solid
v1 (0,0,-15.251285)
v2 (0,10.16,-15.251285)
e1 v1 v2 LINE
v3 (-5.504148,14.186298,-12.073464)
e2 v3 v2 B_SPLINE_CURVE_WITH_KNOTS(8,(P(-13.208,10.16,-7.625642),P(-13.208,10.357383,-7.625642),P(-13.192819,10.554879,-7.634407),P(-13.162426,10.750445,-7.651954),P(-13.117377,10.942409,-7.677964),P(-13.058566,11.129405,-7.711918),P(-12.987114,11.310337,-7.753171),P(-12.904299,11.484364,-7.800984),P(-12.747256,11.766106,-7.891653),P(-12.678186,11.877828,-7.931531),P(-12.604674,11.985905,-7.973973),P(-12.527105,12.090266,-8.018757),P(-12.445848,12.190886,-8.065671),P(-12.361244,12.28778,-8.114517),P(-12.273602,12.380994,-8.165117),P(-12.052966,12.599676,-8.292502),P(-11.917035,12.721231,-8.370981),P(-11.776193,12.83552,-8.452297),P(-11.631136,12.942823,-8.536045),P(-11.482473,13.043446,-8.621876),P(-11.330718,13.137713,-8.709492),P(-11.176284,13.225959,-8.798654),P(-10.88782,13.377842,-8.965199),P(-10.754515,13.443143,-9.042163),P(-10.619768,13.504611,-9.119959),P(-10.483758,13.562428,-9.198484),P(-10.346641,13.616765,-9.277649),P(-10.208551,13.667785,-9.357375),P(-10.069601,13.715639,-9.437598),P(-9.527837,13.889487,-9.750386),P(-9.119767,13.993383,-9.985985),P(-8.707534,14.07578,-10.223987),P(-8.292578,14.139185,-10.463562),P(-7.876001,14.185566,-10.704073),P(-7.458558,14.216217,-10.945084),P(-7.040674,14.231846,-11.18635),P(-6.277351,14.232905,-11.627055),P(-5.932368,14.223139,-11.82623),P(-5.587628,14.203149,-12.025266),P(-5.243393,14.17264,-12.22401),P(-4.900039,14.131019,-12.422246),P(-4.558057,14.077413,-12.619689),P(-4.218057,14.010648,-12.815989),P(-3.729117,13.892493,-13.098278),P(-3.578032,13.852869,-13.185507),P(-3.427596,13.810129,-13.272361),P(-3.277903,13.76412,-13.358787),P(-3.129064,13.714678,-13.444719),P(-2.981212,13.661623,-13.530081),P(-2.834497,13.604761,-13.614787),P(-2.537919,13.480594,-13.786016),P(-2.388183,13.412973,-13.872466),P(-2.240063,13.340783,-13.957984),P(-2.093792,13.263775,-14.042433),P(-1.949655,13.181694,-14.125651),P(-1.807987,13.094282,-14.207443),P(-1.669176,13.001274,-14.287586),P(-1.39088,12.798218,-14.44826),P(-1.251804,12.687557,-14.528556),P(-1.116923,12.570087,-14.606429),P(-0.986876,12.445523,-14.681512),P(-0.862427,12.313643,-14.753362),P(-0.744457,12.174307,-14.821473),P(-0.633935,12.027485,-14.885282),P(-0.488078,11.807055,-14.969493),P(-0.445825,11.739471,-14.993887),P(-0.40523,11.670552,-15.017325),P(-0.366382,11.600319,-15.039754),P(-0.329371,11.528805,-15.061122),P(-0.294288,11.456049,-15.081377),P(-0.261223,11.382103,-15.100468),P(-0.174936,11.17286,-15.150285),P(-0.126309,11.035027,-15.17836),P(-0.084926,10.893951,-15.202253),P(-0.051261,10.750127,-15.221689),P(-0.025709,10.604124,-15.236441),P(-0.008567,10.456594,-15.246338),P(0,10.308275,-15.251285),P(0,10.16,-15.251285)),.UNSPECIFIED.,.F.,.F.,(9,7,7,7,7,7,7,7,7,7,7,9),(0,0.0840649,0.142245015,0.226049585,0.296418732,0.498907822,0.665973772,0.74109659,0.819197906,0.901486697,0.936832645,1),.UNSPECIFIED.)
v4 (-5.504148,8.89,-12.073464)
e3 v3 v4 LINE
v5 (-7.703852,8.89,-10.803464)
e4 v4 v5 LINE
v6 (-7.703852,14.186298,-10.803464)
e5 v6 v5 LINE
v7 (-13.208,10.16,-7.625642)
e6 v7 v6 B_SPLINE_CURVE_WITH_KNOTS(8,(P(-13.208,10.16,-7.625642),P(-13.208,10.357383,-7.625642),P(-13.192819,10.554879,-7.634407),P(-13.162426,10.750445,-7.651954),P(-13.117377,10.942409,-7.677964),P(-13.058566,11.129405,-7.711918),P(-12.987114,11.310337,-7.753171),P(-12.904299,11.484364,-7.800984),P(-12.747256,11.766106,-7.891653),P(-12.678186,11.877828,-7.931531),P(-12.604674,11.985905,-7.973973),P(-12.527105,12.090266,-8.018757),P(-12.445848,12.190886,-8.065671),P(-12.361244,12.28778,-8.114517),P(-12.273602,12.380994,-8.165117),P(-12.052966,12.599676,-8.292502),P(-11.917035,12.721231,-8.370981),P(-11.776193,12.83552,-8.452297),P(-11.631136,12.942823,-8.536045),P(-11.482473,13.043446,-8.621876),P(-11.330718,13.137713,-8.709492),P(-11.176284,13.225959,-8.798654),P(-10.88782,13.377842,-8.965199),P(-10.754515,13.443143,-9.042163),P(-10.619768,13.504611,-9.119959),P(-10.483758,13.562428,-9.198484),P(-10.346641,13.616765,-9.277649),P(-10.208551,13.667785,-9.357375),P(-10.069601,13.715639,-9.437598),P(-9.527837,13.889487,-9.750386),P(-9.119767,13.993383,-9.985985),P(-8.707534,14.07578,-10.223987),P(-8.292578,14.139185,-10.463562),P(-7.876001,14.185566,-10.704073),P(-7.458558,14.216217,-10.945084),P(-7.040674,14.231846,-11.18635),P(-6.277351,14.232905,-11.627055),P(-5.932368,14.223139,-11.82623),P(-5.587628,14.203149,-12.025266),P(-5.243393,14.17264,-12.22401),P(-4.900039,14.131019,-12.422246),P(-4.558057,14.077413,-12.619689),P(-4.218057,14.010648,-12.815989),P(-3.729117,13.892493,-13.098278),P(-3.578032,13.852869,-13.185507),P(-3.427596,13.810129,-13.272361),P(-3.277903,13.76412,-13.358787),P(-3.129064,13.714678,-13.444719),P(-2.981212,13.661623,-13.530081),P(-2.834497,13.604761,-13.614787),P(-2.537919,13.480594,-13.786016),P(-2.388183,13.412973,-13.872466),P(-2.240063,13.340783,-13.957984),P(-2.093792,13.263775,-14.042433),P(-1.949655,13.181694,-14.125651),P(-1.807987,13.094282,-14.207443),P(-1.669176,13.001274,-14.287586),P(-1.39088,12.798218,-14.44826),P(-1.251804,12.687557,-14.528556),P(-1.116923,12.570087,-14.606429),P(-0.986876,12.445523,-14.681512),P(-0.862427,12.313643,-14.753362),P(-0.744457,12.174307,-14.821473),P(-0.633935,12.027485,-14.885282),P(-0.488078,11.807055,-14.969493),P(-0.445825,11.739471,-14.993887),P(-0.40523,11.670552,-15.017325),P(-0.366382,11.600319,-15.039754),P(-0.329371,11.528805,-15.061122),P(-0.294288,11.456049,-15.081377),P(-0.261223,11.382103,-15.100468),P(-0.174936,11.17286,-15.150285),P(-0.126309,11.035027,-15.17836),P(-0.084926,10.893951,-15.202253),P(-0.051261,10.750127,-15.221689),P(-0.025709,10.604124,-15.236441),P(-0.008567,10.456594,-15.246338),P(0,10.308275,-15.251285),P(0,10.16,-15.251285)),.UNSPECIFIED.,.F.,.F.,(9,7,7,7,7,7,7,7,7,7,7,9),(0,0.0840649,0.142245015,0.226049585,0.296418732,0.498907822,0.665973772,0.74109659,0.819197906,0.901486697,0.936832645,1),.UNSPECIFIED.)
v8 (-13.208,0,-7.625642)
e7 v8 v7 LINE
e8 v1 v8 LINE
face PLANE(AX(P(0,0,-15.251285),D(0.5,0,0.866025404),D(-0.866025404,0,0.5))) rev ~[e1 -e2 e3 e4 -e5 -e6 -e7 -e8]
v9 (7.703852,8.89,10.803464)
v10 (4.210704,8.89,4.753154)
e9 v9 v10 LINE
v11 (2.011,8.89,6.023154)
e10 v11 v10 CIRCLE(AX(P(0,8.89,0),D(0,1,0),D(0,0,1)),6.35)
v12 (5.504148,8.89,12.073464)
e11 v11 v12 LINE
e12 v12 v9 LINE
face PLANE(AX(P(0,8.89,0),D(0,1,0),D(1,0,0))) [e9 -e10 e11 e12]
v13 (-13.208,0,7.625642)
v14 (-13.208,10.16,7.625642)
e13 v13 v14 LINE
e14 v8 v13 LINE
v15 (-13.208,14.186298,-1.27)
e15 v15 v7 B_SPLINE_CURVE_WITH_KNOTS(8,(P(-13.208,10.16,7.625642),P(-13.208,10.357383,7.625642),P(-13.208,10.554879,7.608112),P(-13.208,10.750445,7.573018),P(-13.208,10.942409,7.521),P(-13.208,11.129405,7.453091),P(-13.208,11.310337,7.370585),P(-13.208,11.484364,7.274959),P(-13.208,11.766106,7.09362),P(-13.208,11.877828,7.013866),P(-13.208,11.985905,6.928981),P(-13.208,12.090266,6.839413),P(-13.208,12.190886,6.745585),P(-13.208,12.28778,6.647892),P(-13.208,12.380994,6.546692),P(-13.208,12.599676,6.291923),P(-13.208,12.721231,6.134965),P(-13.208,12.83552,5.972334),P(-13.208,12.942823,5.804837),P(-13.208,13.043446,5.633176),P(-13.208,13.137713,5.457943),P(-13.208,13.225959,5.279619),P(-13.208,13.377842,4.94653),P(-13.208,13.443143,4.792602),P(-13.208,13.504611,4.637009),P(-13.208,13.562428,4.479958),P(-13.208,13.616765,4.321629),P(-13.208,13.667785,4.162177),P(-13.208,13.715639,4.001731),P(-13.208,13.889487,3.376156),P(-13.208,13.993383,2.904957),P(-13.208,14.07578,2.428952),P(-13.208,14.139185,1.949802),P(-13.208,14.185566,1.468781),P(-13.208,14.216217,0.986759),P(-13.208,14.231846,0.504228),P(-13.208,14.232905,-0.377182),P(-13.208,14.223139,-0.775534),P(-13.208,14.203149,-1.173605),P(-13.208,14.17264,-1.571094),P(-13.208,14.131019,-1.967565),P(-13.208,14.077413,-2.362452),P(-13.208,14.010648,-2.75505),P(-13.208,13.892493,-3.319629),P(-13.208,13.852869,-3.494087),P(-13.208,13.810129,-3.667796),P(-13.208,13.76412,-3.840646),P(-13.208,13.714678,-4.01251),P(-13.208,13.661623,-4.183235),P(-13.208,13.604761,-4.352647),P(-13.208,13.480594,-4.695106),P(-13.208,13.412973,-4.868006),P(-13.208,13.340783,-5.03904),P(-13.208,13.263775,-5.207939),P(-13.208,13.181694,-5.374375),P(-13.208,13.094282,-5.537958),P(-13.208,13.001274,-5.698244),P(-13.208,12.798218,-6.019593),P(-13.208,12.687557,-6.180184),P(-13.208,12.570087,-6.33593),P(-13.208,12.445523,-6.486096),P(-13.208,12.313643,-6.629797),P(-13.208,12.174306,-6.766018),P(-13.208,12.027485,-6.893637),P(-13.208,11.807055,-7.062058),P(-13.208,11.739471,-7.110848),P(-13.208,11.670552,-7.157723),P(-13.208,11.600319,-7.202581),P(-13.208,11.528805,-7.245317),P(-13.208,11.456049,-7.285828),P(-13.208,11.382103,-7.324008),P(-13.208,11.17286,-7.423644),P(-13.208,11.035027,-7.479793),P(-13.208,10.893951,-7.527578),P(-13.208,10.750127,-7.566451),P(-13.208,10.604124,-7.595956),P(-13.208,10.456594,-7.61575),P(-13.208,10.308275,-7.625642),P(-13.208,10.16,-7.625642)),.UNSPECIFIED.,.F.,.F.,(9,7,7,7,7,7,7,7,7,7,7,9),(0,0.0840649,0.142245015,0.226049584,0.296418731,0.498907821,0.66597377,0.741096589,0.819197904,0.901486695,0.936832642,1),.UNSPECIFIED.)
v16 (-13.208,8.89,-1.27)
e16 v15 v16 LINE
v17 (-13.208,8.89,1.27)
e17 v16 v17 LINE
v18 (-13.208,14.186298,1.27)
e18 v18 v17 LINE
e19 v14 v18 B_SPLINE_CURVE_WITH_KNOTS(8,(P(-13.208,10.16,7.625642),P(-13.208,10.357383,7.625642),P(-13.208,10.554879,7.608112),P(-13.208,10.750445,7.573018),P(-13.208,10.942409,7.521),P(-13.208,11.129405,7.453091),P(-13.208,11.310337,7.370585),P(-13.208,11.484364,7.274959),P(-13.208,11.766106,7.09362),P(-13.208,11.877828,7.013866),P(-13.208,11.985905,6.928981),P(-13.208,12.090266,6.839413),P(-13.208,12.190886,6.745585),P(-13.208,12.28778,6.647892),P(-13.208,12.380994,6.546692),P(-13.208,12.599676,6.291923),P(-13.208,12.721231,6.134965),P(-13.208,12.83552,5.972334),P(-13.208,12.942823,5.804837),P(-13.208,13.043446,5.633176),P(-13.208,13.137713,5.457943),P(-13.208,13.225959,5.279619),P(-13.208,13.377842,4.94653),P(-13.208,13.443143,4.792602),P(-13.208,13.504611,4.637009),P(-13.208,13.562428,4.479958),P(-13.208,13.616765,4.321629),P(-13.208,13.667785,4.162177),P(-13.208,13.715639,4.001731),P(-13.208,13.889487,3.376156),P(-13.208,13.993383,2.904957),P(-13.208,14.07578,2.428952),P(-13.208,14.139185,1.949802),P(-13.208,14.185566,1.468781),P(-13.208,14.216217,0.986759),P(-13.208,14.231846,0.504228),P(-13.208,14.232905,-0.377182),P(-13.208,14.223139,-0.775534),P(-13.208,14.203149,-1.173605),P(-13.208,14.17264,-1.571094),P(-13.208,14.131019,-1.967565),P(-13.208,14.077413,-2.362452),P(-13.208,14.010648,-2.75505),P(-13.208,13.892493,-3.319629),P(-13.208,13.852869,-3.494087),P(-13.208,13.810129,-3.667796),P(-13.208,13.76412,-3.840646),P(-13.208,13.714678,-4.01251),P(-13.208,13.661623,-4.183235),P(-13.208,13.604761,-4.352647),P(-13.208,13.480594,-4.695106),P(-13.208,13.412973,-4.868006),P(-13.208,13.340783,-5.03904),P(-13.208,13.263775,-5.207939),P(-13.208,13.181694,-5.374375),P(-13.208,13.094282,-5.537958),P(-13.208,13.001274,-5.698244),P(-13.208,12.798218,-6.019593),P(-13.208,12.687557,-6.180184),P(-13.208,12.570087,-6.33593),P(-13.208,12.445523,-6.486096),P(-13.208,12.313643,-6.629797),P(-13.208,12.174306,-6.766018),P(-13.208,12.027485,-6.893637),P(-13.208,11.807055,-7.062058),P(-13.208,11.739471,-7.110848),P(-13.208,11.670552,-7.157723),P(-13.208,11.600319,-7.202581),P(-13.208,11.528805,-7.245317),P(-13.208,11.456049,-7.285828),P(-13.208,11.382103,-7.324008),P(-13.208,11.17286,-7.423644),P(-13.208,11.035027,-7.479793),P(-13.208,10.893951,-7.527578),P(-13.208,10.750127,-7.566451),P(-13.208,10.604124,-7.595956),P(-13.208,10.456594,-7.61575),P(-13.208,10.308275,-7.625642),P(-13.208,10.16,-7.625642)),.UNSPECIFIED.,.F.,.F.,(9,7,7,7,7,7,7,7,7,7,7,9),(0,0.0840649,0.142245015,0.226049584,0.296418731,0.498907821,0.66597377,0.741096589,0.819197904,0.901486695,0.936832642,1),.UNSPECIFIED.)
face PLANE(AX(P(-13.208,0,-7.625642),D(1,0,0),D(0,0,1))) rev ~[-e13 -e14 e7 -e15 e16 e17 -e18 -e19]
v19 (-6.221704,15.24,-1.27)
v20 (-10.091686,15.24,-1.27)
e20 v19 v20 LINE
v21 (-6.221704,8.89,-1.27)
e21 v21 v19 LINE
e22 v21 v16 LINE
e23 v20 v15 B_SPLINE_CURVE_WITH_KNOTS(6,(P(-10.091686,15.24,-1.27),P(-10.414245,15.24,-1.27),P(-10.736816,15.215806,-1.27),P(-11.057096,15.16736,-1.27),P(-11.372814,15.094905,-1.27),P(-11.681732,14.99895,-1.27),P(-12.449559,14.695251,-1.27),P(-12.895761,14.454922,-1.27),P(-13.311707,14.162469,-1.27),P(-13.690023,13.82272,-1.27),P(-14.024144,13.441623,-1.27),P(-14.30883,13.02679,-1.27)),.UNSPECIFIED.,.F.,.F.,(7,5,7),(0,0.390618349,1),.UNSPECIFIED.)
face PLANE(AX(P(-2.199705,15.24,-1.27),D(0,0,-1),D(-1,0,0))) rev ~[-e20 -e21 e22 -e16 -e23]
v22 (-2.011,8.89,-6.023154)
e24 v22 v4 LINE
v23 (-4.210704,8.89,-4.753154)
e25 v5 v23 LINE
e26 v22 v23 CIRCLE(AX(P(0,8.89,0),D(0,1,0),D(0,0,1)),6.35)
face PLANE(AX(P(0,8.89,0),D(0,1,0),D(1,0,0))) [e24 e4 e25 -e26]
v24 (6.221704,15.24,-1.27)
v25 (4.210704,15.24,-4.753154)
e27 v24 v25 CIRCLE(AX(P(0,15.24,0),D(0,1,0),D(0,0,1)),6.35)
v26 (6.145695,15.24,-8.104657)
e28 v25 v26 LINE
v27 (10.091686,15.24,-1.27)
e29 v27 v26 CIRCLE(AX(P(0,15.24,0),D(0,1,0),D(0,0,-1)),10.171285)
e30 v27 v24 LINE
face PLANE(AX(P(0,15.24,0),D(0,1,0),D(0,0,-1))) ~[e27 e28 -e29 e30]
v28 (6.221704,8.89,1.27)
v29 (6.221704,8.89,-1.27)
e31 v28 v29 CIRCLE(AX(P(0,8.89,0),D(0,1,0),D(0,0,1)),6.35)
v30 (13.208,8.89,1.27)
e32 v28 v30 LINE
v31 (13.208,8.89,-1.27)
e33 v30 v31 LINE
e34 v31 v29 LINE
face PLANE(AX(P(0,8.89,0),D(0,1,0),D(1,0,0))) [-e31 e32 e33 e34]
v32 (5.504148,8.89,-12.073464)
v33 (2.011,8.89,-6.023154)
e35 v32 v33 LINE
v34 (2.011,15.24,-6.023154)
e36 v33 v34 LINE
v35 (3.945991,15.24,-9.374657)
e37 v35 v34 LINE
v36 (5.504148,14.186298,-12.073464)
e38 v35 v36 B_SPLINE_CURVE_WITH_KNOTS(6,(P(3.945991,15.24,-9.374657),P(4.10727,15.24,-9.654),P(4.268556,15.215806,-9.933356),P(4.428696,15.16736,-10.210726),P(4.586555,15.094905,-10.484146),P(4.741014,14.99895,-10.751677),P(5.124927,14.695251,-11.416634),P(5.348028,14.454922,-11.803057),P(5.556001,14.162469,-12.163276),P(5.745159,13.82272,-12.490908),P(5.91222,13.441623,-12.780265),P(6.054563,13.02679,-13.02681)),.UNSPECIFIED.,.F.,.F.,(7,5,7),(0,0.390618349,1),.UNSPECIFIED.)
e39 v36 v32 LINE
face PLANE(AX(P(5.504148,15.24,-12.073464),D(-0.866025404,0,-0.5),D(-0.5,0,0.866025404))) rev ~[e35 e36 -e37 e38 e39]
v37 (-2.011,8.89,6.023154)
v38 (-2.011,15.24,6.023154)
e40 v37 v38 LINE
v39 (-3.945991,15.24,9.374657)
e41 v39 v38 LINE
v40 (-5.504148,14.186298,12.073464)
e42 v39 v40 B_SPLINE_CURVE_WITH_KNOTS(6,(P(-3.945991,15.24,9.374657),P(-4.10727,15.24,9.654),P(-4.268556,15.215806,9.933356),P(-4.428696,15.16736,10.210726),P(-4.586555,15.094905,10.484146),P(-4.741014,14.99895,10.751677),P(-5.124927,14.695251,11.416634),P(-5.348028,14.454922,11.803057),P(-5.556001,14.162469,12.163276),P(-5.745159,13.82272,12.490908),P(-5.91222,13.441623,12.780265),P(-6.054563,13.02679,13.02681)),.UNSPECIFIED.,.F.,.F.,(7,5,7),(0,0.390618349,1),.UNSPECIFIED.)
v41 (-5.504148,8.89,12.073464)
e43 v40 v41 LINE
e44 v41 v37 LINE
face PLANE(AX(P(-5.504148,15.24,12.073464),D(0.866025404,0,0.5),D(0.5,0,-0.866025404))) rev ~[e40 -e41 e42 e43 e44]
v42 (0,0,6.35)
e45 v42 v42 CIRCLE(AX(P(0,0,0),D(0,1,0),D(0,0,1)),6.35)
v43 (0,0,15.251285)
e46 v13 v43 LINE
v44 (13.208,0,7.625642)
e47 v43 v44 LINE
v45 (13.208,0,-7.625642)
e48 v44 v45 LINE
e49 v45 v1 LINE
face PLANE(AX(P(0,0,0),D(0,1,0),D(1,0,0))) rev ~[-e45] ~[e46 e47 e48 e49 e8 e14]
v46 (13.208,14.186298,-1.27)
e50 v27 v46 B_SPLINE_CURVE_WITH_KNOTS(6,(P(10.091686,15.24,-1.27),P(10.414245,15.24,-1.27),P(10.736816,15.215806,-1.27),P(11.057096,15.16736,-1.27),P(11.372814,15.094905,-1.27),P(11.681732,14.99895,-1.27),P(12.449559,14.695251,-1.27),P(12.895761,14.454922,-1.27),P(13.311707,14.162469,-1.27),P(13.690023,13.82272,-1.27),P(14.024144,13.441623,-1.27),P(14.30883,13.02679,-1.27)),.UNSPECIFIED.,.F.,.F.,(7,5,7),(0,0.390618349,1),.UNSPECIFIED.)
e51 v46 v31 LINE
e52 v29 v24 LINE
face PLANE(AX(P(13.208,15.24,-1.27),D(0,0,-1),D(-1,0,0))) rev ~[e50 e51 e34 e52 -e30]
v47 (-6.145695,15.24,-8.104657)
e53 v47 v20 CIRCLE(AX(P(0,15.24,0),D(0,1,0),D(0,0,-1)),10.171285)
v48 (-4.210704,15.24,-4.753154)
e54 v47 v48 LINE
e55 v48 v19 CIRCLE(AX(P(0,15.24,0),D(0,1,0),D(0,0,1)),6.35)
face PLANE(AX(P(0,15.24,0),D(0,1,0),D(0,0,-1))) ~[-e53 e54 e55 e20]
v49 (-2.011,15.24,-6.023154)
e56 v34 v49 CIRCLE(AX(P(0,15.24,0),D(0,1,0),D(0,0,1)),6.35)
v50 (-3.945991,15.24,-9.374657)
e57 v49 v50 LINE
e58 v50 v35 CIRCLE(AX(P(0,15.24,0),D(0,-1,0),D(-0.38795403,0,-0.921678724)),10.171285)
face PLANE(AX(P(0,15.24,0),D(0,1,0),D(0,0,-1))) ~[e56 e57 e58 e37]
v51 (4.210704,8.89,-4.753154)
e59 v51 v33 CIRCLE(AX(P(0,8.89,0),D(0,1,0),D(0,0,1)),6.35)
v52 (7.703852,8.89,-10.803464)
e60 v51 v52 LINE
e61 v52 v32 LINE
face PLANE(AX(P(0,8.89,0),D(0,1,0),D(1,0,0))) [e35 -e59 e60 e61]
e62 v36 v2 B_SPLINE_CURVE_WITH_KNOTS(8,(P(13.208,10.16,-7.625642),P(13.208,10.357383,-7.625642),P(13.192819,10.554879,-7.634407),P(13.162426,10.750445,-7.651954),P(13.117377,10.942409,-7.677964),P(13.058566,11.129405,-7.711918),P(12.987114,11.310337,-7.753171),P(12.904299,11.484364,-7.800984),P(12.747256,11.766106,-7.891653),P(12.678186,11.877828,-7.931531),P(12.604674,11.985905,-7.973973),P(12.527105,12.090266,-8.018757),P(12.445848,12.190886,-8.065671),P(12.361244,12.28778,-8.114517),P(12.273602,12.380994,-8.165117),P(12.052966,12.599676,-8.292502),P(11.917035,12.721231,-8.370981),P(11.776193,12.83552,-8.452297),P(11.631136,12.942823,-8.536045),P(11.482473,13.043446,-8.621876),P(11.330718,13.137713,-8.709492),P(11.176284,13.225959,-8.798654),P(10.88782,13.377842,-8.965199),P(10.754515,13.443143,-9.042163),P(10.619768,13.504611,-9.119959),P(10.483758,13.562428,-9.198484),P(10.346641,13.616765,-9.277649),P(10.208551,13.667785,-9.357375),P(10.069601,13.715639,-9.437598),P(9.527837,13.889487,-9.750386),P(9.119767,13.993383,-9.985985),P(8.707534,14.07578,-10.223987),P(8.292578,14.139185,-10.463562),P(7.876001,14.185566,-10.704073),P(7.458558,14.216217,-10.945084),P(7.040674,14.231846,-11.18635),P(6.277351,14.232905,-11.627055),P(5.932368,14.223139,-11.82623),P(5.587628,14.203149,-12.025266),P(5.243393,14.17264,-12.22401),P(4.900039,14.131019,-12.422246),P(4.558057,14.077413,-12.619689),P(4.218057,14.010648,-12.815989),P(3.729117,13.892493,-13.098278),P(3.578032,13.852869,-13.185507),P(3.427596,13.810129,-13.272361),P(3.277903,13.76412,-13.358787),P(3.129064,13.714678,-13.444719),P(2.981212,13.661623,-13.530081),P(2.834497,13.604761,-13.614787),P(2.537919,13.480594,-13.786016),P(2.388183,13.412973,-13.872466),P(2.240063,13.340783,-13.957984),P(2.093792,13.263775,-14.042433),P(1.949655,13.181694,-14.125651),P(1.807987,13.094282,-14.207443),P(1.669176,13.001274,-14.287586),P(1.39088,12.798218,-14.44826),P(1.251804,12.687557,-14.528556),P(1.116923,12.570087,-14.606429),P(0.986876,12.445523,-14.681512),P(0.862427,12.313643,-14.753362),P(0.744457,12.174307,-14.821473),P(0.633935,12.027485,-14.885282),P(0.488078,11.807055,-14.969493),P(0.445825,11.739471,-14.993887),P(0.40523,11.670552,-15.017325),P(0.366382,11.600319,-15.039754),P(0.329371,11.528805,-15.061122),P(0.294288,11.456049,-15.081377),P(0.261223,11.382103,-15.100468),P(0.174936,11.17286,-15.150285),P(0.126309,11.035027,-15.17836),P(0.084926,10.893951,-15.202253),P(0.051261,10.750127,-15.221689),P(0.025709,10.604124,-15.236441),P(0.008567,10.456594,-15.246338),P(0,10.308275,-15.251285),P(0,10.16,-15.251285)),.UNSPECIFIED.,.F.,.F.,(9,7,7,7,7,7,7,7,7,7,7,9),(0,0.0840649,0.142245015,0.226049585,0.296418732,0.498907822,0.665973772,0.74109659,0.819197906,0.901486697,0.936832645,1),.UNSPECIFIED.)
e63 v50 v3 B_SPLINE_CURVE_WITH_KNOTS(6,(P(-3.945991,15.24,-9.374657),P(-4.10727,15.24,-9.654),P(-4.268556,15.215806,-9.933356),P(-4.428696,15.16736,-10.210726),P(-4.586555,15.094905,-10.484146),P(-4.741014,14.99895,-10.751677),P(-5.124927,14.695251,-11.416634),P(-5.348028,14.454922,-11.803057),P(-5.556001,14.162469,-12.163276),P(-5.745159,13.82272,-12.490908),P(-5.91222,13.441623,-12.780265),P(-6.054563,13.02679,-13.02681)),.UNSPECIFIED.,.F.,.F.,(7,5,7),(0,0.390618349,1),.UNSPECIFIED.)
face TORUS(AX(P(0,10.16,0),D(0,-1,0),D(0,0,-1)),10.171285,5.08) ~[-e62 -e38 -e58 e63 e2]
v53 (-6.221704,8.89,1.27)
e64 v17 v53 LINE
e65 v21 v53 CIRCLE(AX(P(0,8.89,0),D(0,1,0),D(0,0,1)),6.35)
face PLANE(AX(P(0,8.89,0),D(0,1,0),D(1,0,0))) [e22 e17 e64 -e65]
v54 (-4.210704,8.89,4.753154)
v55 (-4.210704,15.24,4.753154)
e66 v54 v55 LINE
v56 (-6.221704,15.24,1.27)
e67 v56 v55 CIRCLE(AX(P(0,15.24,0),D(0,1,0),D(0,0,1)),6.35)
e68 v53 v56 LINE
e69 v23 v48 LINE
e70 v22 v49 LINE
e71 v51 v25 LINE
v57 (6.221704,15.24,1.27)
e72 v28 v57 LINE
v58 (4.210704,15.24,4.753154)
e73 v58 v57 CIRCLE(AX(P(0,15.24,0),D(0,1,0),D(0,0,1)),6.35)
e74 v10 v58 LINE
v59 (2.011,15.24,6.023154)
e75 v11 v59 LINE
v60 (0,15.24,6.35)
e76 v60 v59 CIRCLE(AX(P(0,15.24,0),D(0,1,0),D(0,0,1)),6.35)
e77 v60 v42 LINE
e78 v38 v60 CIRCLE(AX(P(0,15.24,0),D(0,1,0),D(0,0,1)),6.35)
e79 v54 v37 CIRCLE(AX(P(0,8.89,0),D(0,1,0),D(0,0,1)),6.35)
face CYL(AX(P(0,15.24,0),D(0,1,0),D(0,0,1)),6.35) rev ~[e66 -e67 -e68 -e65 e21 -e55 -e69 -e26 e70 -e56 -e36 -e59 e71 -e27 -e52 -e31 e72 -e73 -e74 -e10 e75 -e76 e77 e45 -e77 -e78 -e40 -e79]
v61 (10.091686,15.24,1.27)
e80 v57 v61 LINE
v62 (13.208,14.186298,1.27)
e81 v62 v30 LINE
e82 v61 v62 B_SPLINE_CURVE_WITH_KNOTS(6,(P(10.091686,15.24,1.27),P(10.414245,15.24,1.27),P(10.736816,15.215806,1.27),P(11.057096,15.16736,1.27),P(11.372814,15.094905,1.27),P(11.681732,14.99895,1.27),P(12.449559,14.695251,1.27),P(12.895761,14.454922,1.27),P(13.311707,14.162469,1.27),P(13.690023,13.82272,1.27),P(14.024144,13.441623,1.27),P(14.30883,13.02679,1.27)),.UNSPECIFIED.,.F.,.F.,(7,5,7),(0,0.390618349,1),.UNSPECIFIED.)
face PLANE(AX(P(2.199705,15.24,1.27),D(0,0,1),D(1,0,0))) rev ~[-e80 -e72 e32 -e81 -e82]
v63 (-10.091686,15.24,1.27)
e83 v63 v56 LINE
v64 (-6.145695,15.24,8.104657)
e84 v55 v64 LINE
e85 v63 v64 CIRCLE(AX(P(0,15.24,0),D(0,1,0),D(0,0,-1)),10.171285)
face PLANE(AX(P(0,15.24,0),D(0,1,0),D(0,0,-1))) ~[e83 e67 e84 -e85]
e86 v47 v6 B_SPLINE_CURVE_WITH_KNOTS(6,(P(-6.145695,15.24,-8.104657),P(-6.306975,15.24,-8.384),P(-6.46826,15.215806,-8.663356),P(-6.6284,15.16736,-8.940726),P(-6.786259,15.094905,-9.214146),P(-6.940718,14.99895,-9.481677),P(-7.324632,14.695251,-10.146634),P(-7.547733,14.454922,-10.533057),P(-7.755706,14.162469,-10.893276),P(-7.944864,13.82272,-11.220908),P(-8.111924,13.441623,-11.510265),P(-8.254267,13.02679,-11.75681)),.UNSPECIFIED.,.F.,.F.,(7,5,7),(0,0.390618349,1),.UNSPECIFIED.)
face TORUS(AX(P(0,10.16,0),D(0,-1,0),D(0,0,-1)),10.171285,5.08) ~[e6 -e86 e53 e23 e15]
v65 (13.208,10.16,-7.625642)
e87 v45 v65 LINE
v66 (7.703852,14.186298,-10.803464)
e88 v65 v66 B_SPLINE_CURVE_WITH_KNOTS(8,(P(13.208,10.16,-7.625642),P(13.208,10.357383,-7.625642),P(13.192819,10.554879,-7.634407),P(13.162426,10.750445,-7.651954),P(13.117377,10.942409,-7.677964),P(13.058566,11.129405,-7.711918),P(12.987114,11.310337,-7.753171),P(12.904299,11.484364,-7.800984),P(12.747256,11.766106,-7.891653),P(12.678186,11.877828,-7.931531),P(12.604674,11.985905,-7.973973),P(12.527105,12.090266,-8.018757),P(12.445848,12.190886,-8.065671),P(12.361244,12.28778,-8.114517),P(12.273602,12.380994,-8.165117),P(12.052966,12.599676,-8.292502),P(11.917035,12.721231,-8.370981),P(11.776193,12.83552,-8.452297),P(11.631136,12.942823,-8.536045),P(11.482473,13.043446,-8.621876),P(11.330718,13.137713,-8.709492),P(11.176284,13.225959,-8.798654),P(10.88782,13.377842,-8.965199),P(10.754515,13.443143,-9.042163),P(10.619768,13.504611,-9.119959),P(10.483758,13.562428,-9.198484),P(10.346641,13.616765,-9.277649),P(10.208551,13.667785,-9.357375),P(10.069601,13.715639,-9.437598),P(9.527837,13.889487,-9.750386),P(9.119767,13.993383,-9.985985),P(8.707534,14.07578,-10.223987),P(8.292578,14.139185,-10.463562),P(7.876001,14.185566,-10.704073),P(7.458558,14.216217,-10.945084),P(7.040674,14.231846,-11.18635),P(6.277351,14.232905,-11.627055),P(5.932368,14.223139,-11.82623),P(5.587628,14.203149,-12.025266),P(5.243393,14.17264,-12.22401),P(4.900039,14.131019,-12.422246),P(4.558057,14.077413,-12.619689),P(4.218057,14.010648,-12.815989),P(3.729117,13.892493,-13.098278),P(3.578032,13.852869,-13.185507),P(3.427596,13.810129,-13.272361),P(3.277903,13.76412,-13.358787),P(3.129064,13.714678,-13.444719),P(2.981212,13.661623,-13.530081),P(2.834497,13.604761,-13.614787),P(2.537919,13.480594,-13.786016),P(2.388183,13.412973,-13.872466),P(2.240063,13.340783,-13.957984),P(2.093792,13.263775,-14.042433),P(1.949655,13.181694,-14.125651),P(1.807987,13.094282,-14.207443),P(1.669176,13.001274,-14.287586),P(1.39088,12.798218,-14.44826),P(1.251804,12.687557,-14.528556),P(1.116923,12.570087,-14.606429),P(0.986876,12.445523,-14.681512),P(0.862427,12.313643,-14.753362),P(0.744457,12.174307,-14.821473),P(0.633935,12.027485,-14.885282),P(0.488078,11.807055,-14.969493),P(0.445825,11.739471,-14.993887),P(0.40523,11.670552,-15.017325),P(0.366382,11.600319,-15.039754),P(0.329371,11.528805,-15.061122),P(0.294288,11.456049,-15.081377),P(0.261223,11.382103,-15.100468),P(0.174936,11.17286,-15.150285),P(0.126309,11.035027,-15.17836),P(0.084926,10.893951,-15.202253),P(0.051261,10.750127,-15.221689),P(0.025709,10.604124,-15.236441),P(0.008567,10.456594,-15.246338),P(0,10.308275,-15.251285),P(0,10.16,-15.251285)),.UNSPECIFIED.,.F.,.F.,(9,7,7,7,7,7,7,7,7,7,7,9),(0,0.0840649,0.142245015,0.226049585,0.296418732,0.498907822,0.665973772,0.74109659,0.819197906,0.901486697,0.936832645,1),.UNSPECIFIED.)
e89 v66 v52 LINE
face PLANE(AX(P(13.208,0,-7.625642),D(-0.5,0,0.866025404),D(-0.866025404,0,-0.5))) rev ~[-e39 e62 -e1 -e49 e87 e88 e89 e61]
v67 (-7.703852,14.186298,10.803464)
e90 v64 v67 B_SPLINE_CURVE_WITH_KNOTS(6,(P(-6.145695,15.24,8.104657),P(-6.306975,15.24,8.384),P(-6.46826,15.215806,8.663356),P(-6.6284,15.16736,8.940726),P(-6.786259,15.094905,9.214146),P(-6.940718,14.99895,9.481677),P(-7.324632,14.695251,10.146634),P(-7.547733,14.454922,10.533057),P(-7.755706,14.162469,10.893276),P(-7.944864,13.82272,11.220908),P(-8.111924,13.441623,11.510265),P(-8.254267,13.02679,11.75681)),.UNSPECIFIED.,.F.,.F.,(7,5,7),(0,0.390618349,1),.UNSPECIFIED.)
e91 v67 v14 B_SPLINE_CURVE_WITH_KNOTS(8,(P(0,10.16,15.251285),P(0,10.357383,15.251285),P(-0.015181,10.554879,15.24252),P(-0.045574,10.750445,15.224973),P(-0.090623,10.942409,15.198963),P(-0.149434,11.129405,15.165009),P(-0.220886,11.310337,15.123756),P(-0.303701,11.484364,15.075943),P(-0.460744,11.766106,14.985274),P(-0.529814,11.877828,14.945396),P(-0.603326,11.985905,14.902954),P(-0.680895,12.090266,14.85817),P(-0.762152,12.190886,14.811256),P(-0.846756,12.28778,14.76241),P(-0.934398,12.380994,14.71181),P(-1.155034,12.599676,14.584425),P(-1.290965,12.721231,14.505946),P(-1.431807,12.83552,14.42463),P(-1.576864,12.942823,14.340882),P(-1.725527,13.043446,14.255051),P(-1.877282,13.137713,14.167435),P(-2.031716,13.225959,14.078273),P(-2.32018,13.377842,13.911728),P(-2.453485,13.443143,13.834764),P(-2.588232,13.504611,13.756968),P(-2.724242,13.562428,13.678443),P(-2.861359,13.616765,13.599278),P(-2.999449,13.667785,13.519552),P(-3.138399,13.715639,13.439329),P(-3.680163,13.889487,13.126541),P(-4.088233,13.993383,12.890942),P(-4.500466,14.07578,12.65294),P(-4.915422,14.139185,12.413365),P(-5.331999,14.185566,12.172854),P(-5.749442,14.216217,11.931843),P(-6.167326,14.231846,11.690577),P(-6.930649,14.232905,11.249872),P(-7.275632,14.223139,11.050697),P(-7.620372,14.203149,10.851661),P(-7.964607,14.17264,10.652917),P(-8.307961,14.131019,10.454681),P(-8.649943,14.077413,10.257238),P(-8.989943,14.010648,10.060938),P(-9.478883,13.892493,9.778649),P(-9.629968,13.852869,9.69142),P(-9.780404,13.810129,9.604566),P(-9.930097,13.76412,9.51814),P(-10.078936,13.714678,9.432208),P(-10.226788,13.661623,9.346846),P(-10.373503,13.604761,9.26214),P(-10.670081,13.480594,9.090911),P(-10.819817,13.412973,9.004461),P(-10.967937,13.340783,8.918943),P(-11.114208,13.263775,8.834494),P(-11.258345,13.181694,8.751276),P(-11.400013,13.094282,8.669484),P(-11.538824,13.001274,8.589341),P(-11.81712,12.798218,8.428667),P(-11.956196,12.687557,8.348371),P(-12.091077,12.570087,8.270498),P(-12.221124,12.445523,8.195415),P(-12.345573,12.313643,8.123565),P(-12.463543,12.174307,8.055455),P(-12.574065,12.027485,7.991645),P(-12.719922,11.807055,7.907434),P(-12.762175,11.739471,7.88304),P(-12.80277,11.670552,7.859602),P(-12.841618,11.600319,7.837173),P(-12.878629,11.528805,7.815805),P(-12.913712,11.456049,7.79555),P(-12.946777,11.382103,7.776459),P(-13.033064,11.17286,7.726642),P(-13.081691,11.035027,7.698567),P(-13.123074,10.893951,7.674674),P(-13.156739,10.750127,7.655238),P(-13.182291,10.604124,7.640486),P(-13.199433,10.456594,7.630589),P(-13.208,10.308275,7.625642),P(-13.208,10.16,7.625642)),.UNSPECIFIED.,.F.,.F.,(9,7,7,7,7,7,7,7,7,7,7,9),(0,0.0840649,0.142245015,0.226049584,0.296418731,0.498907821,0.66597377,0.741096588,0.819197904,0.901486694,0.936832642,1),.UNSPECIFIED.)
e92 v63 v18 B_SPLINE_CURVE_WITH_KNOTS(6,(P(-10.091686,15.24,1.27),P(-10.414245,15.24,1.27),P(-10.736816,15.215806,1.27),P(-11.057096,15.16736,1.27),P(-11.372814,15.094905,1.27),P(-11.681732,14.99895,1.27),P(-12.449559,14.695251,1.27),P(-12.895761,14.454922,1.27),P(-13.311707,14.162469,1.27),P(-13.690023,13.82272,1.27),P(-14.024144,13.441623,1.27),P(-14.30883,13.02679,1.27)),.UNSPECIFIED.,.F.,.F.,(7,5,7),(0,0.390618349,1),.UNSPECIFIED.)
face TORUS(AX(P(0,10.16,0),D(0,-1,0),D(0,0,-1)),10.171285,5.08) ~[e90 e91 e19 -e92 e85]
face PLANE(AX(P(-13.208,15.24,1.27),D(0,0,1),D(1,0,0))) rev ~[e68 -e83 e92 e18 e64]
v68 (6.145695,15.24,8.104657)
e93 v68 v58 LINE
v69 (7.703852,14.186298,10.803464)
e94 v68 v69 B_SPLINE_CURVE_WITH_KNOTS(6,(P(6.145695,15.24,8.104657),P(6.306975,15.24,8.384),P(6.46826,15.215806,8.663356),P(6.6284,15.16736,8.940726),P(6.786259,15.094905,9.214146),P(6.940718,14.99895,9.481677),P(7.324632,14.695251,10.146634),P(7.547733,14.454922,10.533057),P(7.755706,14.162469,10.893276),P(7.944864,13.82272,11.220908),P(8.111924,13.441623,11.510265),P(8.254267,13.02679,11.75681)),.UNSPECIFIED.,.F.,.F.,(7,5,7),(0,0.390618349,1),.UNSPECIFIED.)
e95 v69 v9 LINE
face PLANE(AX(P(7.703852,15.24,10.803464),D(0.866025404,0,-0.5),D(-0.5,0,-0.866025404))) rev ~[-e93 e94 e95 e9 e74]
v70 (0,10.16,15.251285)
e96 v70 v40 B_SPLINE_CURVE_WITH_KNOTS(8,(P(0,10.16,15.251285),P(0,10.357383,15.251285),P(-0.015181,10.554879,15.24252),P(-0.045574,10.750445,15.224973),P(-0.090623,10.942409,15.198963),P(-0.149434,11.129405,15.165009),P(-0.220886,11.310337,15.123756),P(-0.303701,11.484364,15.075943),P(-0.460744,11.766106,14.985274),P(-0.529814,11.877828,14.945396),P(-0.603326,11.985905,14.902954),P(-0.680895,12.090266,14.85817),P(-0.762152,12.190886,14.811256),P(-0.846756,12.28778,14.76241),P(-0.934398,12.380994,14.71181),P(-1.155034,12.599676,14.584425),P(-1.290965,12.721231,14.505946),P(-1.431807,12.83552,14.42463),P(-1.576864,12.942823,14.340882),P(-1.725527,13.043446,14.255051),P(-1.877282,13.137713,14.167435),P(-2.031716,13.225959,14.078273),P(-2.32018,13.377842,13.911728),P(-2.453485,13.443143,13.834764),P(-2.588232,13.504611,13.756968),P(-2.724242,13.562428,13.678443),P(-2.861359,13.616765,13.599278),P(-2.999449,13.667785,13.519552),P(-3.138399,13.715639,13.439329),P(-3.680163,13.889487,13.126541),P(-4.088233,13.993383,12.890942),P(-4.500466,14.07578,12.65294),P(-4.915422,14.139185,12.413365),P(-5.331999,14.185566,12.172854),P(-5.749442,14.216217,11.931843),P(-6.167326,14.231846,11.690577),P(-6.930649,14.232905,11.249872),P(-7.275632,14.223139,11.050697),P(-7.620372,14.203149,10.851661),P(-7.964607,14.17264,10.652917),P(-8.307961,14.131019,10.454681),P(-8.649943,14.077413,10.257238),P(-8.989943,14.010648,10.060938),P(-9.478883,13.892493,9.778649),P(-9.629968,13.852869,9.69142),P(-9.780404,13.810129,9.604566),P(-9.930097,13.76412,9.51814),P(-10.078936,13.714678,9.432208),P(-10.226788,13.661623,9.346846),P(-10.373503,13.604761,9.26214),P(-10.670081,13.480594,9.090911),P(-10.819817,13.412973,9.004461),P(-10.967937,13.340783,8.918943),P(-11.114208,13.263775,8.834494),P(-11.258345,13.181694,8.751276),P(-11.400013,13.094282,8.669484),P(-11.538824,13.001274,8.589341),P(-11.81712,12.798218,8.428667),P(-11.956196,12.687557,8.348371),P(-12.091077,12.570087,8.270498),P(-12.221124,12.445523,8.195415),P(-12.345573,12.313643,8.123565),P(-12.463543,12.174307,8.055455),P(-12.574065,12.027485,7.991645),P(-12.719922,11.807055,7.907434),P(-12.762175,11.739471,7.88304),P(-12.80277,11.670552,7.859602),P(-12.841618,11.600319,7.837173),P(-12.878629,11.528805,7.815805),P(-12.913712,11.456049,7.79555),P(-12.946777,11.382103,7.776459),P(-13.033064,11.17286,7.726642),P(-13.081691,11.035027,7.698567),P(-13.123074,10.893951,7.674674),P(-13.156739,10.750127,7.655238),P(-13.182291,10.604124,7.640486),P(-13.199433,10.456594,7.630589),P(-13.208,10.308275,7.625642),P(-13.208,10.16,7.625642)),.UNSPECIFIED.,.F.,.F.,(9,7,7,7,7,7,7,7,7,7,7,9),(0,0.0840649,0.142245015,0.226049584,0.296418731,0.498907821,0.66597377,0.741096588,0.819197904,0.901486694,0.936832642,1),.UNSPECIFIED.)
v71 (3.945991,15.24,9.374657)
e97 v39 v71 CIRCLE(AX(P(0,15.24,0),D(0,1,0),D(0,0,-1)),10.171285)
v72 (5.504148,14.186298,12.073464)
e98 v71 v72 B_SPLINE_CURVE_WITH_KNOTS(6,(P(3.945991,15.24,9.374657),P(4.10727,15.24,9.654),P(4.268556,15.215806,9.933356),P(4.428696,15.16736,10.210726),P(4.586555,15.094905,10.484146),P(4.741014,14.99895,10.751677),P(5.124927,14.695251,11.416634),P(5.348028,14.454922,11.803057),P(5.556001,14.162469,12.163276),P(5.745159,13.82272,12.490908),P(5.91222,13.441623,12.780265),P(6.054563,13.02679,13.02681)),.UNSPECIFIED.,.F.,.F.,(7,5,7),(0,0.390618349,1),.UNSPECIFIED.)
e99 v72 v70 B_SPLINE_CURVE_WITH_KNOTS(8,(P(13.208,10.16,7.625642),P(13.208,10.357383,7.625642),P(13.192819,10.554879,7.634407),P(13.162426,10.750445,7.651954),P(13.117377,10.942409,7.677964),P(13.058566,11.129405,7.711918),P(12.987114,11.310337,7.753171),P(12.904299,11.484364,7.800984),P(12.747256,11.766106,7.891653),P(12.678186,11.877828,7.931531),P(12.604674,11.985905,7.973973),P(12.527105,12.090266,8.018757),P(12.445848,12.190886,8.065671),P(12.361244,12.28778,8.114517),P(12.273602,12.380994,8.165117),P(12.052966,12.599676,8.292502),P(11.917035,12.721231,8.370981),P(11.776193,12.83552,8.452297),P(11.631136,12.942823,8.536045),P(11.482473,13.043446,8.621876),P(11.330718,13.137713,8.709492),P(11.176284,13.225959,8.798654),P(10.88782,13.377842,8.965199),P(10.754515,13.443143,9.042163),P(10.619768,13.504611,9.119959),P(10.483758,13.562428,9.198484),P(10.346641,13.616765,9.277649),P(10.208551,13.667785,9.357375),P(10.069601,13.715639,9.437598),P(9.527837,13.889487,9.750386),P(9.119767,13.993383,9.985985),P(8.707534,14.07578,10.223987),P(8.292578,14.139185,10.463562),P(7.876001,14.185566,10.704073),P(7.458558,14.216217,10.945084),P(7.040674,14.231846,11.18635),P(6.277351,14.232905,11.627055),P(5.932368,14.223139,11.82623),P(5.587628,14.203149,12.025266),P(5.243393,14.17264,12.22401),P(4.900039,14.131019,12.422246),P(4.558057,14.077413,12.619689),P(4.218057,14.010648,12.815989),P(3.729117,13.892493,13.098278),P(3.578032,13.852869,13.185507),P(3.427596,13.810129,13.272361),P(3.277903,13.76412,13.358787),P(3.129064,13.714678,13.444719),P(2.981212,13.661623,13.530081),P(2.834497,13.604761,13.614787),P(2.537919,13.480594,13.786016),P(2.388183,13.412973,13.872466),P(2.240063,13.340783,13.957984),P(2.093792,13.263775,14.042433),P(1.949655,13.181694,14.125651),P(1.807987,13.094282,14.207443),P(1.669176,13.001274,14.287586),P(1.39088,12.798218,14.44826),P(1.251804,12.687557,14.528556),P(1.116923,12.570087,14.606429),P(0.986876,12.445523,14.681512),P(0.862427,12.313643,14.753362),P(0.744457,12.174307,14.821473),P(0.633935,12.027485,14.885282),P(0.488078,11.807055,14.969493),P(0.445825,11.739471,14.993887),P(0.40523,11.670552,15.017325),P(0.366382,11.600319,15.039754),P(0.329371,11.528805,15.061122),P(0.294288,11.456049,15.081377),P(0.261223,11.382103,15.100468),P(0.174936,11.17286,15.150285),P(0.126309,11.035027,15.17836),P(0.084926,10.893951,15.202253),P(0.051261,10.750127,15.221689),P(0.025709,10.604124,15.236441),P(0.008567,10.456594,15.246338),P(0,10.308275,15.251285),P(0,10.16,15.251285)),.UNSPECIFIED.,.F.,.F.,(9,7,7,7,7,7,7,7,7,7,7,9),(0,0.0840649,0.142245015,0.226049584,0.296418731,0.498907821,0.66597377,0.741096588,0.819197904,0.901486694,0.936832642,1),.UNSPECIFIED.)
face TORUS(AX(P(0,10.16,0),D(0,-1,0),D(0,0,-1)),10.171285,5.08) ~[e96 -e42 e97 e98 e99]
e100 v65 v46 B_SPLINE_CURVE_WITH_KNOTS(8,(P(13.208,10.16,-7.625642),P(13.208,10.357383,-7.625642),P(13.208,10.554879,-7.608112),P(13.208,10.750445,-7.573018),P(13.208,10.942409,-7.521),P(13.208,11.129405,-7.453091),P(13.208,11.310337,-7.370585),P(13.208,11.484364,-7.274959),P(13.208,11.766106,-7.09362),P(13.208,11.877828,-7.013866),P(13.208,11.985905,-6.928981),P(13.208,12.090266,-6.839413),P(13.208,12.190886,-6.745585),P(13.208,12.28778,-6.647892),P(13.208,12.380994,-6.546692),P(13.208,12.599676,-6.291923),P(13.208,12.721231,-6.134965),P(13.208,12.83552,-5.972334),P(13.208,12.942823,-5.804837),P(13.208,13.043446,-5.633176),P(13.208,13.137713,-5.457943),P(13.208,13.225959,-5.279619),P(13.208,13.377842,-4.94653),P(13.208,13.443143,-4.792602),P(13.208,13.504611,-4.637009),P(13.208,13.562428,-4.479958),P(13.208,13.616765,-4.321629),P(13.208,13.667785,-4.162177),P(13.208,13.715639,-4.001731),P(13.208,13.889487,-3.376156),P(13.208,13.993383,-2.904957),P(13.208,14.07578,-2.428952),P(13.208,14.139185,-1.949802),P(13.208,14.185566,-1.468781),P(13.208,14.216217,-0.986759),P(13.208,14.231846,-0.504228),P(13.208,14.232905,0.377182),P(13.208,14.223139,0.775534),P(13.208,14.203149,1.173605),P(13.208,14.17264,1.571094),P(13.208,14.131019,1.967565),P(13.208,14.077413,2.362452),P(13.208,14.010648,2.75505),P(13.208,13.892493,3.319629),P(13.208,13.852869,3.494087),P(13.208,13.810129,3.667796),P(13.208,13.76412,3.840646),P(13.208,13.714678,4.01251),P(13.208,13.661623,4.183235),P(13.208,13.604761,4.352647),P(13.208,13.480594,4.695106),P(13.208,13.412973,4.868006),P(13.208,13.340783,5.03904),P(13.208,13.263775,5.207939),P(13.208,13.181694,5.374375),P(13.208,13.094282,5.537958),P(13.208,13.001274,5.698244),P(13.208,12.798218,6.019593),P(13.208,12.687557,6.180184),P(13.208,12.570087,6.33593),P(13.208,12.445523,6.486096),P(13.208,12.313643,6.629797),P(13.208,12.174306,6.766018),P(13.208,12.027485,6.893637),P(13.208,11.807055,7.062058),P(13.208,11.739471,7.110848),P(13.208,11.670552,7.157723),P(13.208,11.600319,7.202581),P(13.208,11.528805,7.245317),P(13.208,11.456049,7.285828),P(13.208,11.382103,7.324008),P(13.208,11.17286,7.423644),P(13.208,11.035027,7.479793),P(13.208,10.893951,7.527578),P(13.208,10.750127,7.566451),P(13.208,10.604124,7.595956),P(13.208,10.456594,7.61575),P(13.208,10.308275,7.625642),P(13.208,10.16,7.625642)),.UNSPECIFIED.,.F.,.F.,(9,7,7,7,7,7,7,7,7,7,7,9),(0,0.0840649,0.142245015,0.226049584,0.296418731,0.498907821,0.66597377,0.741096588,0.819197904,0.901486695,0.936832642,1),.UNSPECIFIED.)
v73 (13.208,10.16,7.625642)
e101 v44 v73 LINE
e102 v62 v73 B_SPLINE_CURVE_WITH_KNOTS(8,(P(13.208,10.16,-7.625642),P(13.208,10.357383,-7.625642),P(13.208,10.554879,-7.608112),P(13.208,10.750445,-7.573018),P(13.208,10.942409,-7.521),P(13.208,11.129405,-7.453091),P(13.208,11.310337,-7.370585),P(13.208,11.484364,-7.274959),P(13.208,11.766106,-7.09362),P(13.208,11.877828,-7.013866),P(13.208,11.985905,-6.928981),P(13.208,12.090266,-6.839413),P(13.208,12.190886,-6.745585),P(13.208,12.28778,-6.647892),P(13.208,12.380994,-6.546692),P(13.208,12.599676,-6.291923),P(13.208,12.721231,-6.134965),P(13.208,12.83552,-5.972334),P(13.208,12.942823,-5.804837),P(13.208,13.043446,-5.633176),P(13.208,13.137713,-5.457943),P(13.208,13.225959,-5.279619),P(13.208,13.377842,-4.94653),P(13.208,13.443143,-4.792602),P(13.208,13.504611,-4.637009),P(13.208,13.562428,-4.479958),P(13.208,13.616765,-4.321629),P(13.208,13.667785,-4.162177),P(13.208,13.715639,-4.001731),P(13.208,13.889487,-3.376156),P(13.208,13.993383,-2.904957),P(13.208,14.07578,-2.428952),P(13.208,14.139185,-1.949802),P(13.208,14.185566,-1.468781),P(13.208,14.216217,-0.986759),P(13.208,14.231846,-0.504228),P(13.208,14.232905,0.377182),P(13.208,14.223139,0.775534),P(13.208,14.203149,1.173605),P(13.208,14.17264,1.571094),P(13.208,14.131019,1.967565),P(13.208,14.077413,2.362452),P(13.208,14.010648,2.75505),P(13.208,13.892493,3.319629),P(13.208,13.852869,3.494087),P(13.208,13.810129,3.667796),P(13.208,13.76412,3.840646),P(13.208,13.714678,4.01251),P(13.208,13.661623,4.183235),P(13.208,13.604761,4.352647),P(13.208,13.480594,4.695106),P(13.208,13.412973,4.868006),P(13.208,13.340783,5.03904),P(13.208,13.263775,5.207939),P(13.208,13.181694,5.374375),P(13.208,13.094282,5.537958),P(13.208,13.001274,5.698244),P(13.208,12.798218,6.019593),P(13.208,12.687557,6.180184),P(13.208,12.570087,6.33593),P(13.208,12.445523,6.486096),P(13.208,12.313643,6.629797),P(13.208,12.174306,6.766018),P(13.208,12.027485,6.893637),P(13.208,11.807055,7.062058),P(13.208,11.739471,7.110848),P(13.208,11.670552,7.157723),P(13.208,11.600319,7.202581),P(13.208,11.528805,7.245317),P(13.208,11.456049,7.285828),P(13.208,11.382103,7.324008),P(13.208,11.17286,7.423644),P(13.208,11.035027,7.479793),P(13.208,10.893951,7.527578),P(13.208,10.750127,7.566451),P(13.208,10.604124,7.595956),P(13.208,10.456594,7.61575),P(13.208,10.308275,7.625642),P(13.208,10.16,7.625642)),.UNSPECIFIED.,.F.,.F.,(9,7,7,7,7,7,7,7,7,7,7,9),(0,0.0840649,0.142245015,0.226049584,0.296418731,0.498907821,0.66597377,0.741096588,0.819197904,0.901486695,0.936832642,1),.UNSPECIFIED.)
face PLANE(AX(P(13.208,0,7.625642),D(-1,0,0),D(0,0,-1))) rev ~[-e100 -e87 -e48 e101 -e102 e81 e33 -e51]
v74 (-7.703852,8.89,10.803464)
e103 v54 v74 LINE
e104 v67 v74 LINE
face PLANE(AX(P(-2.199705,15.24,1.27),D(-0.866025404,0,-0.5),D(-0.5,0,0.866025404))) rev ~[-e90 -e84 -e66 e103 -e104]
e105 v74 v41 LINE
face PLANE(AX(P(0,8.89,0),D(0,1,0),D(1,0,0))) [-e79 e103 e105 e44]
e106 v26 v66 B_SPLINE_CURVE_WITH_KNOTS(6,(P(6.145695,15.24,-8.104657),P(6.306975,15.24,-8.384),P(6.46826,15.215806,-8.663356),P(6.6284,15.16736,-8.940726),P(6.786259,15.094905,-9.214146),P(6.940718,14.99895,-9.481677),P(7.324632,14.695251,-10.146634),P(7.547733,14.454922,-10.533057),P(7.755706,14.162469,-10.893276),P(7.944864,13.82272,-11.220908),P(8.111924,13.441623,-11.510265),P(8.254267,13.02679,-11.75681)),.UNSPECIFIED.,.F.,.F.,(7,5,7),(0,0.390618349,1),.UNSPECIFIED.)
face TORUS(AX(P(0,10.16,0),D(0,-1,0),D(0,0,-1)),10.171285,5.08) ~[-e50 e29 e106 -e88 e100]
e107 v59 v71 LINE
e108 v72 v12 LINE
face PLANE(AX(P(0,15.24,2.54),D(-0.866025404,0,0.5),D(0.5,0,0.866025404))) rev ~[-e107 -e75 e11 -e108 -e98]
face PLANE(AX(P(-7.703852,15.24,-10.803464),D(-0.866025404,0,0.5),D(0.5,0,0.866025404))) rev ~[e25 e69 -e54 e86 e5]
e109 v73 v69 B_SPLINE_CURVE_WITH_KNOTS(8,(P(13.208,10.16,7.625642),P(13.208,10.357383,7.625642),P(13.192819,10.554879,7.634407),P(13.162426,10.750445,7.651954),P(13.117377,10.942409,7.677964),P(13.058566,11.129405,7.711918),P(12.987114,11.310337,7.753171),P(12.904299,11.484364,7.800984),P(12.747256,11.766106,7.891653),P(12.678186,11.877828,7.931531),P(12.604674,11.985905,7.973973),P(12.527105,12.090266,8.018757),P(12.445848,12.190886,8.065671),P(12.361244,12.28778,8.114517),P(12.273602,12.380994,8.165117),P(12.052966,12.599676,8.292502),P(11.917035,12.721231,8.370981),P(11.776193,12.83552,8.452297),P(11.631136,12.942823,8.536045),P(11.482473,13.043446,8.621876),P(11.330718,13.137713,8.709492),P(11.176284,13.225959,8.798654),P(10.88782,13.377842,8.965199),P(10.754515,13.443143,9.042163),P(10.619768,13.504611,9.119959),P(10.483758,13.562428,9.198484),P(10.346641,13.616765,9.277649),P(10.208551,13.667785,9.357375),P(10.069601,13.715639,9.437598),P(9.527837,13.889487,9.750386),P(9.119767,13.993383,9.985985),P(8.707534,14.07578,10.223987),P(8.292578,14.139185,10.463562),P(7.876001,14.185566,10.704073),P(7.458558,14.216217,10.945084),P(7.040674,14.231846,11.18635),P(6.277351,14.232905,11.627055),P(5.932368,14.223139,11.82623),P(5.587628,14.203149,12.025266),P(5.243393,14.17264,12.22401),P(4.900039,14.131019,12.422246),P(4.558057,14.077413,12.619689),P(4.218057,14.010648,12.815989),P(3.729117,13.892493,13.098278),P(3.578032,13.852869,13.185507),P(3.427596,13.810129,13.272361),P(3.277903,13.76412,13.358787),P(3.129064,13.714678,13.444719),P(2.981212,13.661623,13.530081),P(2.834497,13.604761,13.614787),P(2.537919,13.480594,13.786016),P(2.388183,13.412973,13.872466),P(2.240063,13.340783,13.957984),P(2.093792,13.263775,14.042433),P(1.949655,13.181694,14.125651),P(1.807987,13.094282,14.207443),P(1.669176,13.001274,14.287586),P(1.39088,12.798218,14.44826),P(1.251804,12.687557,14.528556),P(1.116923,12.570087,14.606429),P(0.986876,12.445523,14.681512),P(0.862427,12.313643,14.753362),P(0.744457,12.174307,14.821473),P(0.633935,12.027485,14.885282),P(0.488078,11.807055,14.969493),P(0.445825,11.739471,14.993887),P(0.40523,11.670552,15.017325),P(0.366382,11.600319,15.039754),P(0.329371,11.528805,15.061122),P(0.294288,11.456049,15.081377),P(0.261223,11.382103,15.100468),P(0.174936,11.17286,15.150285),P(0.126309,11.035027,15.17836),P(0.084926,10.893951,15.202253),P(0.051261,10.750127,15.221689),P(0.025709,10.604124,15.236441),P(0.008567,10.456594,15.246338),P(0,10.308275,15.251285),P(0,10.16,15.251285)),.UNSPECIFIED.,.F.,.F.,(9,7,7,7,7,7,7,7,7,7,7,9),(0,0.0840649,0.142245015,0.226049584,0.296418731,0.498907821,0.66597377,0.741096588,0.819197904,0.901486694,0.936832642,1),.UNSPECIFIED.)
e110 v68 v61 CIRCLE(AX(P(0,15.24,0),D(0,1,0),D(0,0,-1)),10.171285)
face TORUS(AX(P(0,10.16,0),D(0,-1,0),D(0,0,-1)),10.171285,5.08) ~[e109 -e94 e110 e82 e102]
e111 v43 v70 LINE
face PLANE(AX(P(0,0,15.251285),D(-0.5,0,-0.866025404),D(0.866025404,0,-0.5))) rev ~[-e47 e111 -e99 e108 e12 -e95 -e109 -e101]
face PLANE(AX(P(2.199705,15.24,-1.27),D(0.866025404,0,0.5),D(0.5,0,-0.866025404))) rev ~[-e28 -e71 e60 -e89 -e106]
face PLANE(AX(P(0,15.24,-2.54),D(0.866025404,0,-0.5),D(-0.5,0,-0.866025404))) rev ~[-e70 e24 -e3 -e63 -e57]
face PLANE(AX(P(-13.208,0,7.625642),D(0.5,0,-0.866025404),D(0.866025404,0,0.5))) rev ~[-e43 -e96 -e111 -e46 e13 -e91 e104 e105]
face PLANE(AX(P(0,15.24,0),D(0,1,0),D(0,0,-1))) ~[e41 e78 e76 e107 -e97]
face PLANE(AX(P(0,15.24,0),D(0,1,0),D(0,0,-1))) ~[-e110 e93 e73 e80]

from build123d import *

# Parameters (mm, degrees)
BOSS_EXTRUDE1_DEPTH = 15.24
CUT_EXTRUDE2_DEPTH  = 6.35
SKETCH8_R           = 6.35
CUT_EXTRUDE4_DEPTH  = 26.284591317


with BuildPart() as part:
    # Sketch1 → Boss-Extrude1 (new body)
    with BuildSketch(Plane(origin=(0, 0, 0), x_dir=(1, 0, 0), z_dir=(0, 1, 0))):
        Polygon((0, 15.251284711), (-13.208, 7.625642355), (-13.208, -7.625642355), (0, -15.251284711), (13.208, -7.625642355), (13.208, 7.625642355), align=None)
    extrude(amount=BOSS_EXTRUDE1_DEPTH)

    # Sketch2 → Cut-Revolve2 (revolve, cut)
    with BuildSketch(Plane(origin=(0, 0, 0), x_dir=(0, 0, -1), z_dir=(1, 0, 0))):
        with BuildLine():
            Line((15.251284711, 10.16), (15.251284711, 0))
            Line((15.251284711, 0), (20.607145121, 0))
            Line((20.607145121, 0), (20.607145121, 19.004731249))
            Line((20.607145121, 19.004731249), (7.625642355, 19.004731249))
            Line((7.625642355, 19.004731249), (7.625642355, 15.24))
            Line((7.625642355, 15.24), (10.171284711, 15.24))
            ThreePointArc((10.171284711, 15.24), (13.763387159, 13.752102448), (15.251284711, 10.16))
        make_face()
    revolve(axis=Axis((0, 0, 0), (0, 1, 0)), mode=Mode.SUBTRACT)

    # Sketch4 → Cut-Extrude2 (cut)
    with BuildSketch(Plane(origin=(0, 15.24, 0), x_dir=(1, 0, 0), z_dir=(0, 1, 0))):
        Polygon((-7.703852263, 10.803463533), (-2.199704526, 1.27), (-13.208, 1.27), (-13.208, -1.27), (-2.199704526, -1.27), (-7.703852263, -10.803463533), (-5.504147737, -12.073463533), (0, -2.54), (5.504147737, -12.073463533), (7.703852263, -10.803463533), (2.199704526, -1.27), (13.208, -1.27), (13.208, 1.27), (2.199704526, 1.27), (7.703852263, 10.803463533), (5.504147737, 12.073463533), (0, 2.54), (-5.504147737, 12.073463533), align=None)
    extrude(amount=-CUT_EXTRUDE2_DEPTH, mode=Mode.SUBTRACT)

    # Sketch8 → Cut-Extrude4 (cut, through all)
    with BuildSketch(Plane(origin=(0, 15.24, 0), x_dir=(1, 0, 0), z_dir=(0, 1, 0))):
        with Locations(Location((0, 0, 0), (0, 0, 270))):
            Circle(SKETCH8_R)
    extrude(amount=-CUT_EXTRUDE4_DEPTH, mode=Mode.SUBTRACT)


solid = part.part
